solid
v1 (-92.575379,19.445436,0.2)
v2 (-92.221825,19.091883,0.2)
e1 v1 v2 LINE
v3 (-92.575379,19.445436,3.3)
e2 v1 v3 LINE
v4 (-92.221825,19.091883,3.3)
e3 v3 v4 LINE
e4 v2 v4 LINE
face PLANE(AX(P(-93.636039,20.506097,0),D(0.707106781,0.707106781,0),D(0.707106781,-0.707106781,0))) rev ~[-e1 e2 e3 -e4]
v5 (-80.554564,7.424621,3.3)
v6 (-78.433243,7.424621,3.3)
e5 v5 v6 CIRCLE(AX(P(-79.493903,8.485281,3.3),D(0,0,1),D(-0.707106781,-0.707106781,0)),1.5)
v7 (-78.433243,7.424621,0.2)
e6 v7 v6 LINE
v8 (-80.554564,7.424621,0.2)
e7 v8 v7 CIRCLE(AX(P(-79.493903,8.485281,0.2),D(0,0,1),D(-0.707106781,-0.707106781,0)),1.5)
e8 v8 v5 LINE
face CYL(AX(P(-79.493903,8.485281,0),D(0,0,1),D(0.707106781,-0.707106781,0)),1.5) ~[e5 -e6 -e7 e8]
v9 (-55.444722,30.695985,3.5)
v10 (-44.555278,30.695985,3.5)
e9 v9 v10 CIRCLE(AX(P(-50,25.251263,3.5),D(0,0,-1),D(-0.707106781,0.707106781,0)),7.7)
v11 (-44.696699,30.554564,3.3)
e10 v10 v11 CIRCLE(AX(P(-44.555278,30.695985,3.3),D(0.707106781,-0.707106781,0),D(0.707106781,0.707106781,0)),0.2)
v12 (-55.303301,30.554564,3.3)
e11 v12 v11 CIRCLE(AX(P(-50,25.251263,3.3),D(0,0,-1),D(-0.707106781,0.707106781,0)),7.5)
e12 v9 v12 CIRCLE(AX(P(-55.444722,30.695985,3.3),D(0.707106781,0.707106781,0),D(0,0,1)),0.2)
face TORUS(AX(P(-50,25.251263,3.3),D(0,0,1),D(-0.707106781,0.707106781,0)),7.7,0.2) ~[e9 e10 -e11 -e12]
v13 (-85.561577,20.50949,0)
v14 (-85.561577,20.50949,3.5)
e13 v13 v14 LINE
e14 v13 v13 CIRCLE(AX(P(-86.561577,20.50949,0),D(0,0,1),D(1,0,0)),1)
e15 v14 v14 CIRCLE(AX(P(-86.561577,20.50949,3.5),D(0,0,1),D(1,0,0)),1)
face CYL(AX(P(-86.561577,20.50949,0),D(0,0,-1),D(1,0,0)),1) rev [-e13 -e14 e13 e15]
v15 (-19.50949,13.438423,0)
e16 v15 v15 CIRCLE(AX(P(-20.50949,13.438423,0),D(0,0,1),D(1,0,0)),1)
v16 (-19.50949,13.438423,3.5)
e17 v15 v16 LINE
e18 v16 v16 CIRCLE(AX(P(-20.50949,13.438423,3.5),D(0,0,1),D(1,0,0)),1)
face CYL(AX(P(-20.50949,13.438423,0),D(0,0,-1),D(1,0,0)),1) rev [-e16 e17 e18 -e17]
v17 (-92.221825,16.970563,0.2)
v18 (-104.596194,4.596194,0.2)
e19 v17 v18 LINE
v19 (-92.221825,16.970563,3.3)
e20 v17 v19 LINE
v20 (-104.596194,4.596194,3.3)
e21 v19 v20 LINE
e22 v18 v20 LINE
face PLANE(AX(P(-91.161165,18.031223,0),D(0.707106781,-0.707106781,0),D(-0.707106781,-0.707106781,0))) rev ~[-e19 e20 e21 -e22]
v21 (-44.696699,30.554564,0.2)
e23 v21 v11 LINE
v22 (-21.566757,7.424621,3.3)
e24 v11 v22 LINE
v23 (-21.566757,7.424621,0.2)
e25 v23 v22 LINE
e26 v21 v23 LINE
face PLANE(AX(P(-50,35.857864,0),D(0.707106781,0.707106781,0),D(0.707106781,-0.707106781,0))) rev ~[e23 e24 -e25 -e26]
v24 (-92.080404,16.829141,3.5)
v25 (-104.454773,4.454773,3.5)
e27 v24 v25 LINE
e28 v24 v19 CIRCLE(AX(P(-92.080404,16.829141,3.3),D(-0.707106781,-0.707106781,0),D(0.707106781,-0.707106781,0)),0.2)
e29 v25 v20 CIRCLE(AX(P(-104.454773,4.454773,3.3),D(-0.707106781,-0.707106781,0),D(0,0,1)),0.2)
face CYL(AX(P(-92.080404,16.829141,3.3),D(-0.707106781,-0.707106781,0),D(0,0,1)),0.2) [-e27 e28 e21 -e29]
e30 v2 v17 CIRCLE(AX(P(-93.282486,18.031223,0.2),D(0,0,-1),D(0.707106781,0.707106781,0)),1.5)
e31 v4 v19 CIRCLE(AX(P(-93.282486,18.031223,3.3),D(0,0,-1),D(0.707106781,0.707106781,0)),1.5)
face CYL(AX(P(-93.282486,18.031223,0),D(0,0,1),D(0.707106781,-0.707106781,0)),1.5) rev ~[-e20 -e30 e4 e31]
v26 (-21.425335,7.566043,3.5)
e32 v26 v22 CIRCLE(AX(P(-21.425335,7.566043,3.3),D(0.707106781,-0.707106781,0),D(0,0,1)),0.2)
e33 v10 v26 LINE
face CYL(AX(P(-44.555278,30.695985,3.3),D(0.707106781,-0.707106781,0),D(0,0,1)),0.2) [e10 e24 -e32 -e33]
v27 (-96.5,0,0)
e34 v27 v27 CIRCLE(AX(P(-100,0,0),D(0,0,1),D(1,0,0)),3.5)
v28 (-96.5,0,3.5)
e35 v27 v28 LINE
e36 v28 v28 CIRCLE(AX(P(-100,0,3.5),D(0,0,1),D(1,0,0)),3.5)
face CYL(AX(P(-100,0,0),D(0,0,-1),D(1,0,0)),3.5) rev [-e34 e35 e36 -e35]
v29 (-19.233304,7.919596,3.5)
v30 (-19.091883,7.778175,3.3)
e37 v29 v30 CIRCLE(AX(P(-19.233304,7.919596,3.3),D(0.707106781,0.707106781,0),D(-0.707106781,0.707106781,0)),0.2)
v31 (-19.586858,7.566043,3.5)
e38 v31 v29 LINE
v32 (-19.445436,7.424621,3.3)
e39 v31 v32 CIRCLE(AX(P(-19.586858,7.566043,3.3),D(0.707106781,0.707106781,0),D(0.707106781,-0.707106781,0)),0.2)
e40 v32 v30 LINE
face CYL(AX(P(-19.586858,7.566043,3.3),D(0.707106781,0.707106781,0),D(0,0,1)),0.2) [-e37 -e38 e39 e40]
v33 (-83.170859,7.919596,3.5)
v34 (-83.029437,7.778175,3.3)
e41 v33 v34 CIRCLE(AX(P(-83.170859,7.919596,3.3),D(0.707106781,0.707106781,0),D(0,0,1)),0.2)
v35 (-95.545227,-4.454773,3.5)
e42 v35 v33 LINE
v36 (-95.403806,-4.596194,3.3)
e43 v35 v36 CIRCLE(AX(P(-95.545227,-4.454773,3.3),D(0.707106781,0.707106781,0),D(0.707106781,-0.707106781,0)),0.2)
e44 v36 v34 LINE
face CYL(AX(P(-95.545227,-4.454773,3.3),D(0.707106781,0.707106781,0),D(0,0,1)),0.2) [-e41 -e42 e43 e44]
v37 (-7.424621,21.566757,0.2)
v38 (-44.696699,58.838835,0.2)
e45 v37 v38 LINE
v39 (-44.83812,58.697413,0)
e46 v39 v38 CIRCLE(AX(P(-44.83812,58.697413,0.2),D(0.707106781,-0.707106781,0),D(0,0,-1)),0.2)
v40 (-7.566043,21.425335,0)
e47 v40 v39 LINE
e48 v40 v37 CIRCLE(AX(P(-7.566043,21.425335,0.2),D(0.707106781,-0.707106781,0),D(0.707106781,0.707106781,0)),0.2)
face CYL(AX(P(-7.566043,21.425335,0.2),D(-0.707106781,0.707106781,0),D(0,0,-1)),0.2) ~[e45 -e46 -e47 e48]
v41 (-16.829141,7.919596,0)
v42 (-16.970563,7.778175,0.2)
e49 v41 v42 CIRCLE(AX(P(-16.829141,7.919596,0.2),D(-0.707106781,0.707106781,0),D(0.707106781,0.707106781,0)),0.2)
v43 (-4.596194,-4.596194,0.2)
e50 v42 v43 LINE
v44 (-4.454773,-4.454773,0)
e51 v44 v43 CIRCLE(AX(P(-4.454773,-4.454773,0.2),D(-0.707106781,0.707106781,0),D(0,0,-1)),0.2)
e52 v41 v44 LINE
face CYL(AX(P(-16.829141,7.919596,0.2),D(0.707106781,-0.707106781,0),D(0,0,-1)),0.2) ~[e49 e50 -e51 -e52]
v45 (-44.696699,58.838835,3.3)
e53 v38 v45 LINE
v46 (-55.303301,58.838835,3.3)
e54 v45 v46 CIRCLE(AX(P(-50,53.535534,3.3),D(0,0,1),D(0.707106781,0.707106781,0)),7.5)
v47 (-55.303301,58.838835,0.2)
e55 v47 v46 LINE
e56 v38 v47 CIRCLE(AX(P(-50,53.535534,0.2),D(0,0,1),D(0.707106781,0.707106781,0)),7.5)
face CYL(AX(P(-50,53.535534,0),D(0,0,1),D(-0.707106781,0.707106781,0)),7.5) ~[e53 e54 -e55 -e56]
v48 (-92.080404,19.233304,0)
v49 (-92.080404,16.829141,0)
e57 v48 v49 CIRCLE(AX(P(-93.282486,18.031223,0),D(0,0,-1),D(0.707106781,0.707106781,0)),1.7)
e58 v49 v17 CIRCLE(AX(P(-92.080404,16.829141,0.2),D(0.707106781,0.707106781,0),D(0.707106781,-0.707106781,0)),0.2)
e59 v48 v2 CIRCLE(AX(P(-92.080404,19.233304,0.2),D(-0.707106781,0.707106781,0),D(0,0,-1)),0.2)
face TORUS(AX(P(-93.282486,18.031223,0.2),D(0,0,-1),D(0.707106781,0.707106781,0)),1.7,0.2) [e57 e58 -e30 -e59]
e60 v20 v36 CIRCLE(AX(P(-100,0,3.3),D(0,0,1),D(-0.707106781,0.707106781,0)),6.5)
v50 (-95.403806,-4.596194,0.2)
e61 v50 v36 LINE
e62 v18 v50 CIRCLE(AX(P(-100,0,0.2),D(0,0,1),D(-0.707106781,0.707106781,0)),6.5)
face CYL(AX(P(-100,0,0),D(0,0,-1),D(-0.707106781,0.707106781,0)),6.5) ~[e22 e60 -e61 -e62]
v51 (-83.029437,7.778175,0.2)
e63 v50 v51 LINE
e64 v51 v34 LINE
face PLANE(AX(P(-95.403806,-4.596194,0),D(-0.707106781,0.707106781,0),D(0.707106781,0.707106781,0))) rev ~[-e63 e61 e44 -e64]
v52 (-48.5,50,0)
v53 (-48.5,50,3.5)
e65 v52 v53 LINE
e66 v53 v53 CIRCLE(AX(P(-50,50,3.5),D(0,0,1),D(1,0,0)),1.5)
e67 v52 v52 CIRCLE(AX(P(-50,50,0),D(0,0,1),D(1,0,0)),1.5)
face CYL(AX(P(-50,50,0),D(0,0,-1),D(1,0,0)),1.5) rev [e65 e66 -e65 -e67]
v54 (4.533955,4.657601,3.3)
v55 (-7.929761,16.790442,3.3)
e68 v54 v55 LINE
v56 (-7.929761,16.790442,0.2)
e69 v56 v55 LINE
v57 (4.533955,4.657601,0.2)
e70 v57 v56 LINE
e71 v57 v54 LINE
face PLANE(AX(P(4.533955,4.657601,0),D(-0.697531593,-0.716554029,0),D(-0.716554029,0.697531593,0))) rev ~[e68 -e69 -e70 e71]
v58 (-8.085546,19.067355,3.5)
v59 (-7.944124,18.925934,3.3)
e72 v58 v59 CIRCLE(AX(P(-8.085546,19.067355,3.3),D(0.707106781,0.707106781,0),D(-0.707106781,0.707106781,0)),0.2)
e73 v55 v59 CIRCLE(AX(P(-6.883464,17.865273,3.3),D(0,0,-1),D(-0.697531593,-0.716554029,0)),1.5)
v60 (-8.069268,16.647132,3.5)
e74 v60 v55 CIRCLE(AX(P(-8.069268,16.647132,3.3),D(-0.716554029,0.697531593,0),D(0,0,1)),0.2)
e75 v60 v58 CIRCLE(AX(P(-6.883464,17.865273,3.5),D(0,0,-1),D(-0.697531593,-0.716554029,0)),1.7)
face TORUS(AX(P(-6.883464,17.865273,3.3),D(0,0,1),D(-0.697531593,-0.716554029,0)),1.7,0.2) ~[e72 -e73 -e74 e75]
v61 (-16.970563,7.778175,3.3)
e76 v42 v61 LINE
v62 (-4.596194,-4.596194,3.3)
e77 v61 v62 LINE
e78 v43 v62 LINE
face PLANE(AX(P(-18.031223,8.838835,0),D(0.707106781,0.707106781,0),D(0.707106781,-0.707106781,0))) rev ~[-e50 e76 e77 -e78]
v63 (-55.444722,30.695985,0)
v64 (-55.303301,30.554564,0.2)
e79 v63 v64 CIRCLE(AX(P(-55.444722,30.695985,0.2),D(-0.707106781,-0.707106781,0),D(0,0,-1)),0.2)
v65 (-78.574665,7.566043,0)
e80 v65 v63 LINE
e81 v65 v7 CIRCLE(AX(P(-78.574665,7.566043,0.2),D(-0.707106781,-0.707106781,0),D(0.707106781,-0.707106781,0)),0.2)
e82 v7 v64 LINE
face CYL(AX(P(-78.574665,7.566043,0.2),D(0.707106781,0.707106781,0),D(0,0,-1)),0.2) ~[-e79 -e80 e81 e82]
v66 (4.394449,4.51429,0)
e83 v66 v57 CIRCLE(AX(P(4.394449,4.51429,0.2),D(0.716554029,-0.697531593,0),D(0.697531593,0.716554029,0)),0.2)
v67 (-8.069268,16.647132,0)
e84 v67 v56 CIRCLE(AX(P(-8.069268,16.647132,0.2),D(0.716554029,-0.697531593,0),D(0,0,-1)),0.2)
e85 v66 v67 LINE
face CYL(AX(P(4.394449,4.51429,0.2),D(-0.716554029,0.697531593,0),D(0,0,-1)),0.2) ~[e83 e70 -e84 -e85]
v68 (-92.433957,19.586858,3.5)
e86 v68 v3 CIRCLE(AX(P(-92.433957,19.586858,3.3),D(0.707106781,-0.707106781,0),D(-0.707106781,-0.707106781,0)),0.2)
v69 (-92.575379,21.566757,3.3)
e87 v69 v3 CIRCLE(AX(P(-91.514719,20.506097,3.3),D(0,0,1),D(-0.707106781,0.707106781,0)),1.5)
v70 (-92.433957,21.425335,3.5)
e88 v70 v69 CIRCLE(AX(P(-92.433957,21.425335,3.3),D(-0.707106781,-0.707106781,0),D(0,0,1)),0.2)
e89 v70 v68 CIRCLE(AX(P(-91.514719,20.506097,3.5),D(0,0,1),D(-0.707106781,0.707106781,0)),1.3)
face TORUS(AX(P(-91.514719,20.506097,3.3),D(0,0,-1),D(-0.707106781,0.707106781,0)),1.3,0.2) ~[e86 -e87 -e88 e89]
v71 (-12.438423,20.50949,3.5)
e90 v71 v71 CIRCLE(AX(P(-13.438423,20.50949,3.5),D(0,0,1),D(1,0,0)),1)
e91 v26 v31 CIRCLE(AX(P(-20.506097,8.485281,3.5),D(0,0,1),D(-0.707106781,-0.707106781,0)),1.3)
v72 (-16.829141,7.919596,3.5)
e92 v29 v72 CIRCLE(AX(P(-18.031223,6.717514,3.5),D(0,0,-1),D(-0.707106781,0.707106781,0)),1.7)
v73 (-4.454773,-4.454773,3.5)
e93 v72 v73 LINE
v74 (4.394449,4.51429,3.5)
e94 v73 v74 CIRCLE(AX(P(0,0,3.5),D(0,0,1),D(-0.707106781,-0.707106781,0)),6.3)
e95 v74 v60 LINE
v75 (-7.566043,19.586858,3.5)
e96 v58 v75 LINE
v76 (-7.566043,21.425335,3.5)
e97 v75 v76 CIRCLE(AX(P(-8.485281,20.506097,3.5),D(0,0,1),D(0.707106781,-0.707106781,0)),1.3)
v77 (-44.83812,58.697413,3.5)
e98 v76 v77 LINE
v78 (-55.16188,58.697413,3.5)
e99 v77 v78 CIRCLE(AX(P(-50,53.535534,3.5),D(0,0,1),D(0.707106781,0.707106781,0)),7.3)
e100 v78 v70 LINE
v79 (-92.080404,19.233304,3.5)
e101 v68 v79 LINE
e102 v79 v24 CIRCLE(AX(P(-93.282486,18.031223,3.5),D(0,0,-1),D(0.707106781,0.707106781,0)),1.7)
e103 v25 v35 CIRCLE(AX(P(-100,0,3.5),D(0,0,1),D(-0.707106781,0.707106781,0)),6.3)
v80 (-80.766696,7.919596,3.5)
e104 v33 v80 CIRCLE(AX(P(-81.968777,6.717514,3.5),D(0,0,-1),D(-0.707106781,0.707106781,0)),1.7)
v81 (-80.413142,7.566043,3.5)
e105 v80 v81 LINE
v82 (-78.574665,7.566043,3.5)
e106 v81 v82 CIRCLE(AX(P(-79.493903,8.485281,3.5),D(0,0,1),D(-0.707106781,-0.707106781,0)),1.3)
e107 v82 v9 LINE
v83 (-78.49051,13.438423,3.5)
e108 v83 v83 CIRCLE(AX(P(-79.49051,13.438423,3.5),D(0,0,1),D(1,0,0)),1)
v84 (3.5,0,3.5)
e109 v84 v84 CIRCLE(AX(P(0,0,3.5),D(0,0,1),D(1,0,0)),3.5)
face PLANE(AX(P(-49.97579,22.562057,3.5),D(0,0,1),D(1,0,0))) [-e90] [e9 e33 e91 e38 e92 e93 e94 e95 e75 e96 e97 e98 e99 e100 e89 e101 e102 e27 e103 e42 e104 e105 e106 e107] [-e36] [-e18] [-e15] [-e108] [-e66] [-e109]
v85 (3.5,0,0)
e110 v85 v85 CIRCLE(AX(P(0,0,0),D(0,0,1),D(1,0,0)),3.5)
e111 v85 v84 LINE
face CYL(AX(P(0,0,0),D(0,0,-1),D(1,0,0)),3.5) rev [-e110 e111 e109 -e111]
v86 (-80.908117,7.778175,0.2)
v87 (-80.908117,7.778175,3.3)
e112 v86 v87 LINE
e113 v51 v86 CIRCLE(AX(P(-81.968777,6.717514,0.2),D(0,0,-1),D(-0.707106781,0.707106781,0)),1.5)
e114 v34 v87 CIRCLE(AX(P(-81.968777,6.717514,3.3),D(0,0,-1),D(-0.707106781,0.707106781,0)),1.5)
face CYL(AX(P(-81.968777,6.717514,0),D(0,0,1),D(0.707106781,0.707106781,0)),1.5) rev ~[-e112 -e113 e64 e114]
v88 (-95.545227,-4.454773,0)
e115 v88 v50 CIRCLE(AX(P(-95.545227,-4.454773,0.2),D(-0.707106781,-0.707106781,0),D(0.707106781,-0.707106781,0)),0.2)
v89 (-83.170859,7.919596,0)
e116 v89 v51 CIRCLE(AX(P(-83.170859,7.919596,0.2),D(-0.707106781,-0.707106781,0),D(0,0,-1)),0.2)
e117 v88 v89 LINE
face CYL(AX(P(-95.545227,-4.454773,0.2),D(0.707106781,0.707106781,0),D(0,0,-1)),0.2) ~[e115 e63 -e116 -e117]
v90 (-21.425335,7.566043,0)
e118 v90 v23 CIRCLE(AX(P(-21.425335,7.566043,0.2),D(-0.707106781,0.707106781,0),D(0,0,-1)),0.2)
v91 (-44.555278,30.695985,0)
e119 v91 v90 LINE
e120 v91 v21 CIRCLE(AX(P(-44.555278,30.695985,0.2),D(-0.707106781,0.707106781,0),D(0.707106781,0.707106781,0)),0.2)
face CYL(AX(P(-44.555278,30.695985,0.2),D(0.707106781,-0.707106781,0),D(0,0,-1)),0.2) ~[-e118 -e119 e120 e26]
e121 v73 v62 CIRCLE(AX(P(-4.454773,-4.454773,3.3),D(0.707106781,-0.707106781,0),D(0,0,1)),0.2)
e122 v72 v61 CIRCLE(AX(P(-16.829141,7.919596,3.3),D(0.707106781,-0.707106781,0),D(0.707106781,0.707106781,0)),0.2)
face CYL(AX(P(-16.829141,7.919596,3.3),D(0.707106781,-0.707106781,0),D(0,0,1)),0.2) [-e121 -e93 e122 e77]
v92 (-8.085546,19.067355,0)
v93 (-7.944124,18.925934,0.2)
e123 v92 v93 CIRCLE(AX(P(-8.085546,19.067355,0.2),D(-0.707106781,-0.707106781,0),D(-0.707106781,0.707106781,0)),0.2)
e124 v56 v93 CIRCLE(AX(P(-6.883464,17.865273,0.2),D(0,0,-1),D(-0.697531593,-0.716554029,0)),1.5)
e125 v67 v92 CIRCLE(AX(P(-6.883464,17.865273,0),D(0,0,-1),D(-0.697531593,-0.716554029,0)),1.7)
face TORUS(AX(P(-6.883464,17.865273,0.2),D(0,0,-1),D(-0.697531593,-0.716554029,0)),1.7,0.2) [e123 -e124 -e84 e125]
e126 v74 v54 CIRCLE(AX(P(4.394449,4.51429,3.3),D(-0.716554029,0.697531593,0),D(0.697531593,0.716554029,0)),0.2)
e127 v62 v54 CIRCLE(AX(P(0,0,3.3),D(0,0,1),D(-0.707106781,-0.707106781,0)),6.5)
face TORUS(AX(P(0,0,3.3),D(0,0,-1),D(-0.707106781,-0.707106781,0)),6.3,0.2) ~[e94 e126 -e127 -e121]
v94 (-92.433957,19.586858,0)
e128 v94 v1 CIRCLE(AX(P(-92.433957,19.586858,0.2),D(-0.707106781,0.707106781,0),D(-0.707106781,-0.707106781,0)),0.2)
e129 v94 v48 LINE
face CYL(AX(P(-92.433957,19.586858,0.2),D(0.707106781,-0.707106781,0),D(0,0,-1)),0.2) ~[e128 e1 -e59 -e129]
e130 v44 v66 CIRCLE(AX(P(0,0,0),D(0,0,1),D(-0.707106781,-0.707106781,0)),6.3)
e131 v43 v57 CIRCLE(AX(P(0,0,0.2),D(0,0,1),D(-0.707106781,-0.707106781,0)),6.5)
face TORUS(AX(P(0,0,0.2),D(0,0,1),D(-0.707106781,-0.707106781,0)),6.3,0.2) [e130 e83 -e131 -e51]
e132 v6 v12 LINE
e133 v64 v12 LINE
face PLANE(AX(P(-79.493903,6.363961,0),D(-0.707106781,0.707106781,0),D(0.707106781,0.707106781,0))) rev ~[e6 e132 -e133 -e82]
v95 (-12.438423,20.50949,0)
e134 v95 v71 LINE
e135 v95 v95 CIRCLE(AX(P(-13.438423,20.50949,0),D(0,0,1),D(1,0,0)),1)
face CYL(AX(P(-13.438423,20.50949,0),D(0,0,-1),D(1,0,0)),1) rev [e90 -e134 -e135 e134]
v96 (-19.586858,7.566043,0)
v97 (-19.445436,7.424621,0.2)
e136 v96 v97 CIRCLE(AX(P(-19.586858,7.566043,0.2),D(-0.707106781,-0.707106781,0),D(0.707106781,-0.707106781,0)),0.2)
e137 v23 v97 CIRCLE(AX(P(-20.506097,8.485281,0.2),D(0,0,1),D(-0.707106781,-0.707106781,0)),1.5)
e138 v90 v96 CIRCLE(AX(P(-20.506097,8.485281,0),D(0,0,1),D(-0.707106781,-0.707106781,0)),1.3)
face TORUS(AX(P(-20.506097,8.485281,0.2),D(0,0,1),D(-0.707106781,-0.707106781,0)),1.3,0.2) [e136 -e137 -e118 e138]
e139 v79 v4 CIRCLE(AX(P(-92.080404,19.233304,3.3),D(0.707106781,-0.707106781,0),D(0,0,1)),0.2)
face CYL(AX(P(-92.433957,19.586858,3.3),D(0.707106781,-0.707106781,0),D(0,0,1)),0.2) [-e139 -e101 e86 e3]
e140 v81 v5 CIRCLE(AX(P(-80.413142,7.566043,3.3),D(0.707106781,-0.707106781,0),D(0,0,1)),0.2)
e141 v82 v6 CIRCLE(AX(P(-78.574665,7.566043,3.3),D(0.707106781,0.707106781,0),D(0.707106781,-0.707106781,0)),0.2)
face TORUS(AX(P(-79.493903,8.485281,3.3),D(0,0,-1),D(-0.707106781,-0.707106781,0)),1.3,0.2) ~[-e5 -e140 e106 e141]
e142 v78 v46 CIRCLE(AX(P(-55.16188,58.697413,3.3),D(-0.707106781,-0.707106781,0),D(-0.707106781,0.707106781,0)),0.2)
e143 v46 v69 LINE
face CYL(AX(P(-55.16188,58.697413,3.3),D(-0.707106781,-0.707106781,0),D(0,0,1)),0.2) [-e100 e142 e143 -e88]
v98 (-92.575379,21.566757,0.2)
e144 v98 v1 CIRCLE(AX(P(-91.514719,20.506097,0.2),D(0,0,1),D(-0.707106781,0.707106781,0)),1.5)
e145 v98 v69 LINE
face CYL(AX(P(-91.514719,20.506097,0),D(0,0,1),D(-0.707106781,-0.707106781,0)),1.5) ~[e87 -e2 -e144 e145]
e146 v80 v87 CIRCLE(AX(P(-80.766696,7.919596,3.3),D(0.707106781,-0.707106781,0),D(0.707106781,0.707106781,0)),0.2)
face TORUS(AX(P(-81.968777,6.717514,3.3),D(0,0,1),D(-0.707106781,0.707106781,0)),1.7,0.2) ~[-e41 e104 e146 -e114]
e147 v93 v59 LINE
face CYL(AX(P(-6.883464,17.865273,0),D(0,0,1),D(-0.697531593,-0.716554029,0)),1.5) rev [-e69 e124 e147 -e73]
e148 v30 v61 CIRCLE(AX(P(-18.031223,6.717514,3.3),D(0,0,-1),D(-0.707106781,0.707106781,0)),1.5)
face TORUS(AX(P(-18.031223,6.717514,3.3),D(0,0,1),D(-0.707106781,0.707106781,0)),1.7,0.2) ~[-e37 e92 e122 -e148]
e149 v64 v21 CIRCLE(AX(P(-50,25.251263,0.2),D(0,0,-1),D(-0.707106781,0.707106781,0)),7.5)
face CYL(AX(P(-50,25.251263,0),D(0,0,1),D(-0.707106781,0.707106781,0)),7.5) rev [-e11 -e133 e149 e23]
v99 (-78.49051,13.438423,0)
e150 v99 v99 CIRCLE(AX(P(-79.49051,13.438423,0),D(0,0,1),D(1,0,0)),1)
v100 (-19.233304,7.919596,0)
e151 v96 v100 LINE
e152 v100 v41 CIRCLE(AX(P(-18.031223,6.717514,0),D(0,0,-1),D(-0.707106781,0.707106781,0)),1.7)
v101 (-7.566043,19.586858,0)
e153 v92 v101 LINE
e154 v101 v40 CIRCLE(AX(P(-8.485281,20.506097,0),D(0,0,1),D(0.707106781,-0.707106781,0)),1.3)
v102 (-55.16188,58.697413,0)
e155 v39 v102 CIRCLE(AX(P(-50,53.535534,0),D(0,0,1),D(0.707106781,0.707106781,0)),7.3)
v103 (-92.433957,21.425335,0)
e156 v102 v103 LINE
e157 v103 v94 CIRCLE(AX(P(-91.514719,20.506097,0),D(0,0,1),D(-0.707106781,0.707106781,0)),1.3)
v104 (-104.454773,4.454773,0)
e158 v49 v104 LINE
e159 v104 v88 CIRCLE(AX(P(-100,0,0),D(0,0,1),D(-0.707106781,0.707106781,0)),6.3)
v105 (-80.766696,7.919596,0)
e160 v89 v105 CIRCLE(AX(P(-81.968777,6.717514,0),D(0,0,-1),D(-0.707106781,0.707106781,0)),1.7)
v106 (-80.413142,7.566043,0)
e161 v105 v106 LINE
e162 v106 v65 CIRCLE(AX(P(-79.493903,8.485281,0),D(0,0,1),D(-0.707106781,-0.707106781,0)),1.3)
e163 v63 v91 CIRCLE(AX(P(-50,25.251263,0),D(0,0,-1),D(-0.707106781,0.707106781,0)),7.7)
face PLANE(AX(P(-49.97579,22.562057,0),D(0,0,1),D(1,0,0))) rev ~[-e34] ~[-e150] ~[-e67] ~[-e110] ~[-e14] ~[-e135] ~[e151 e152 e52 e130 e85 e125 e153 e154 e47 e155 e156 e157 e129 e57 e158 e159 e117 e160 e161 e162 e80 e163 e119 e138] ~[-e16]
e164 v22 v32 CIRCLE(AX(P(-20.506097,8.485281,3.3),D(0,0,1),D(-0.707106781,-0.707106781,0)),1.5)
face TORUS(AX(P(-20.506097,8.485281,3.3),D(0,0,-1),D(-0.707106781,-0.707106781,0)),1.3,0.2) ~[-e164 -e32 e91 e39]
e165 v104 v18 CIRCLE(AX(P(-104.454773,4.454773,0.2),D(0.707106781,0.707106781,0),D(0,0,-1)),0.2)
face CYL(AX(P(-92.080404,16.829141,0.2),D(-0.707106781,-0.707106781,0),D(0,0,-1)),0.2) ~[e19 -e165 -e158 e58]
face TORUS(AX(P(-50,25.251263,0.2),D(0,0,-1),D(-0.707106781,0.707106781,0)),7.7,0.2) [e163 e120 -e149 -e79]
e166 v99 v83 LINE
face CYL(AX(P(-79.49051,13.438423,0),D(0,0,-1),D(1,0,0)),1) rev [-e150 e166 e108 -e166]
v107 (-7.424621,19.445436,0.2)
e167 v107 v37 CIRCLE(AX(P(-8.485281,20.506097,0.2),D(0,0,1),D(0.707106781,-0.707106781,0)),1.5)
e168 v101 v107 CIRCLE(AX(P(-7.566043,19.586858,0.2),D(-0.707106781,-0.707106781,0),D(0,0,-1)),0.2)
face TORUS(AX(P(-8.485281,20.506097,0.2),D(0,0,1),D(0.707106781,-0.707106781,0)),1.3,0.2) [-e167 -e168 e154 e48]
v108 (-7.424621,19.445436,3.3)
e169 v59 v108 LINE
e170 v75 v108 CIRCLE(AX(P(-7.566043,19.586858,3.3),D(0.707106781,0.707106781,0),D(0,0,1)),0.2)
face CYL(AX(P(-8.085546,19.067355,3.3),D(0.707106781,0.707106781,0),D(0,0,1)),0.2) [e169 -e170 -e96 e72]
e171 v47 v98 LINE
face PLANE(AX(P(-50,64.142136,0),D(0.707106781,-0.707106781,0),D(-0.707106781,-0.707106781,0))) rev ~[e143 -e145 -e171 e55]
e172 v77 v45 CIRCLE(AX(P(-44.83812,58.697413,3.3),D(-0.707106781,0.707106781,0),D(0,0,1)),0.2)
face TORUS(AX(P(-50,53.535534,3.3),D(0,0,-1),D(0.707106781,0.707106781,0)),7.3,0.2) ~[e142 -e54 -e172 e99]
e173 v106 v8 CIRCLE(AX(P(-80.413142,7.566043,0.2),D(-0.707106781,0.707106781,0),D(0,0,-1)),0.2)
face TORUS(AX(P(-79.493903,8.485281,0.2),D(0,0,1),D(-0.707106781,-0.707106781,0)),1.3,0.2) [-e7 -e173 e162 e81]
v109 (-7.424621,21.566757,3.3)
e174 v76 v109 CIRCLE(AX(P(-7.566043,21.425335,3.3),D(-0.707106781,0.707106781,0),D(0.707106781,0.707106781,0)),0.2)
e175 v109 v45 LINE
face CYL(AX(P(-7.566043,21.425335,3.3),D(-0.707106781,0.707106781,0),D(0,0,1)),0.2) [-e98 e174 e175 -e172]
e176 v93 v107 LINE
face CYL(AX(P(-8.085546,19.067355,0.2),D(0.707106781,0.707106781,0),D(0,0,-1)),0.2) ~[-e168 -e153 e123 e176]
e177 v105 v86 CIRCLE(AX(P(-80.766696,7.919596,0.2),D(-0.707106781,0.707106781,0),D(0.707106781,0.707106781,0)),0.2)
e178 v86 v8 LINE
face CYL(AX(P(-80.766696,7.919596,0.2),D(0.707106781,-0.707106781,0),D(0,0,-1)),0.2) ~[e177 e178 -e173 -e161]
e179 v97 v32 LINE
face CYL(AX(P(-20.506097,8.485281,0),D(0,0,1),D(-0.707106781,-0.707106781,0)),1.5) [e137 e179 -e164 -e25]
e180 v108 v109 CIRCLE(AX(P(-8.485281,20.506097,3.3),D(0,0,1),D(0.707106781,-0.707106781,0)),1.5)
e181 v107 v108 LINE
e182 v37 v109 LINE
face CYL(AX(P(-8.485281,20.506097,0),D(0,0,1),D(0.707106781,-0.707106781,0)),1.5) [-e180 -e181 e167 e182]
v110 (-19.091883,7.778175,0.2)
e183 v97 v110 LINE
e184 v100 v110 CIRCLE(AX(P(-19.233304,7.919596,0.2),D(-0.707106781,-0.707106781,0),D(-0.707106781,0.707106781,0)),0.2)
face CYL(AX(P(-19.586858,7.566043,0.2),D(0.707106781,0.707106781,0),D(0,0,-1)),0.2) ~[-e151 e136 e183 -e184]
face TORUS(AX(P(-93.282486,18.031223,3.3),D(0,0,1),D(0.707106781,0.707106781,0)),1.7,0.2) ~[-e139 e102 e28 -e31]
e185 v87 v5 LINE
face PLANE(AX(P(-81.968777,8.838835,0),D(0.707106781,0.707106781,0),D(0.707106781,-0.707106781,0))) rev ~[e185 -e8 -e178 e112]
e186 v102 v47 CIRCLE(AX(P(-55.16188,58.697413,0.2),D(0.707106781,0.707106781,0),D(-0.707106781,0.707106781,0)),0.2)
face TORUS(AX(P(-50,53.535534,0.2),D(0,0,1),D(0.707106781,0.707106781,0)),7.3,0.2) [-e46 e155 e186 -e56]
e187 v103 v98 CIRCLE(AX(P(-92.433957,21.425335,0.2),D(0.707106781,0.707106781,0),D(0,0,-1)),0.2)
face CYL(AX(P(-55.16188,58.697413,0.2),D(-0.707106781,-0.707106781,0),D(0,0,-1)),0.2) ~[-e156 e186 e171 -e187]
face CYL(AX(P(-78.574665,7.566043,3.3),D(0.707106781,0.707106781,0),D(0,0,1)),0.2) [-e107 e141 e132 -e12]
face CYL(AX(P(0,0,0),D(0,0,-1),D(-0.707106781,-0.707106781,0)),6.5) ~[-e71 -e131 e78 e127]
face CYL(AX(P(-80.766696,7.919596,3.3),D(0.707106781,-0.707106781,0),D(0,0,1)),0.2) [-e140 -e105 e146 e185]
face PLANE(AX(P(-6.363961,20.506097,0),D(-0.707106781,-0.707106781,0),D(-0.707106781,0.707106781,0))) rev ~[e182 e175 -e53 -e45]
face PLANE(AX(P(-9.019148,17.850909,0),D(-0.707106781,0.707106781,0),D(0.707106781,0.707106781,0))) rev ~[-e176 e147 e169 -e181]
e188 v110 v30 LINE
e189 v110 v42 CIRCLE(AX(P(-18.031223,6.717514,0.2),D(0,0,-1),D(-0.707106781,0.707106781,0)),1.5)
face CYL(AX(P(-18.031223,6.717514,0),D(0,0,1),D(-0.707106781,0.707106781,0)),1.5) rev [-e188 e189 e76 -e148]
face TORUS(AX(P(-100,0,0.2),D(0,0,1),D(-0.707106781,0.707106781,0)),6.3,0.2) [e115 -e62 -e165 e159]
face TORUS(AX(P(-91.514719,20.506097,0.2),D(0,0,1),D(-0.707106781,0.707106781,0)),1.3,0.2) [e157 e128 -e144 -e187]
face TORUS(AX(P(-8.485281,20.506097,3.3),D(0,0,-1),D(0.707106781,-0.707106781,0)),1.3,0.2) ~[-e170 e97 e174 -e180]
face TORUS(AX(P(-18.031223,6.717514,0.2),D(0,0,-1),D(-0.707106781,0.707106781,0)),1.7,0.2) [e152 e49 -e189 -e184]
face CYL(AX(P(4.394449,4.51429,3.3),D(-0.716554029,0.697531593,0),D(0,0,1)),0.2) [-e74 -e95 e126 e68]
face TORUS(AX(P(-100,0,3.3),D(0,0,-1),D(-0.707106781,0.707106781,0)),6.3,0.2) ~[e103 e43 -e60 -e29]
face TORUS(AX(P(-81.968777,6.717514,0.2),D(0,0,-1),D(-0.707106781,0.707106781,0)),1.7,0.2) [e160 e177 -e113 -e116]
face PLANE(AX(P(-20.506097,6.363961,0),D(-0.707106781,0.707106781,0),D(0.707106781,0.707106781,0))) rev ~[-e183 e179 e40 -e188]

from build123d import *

# Parameters (mm, degrees)
SKETCH3_R           = 3.5
SKETCH3_R_2         = 1
SKETCH3_R_3         = 1.5
BOSS_EXTRUDE1_DEPTH = 3.5
FILLET1_R           = 7.5
FILLET2_R           = 1.5
FILLET3_R           = 0.2


with BuildPart() as part:
    # Sketch3 → Boss-Extrude1 (new body)
    with BuildSketch(Plane.XY):
        with BuildLine():
            Line((-79.493903346, 6.363961031), (-50, 35.857864376))
            Line((-50, 35.857864376), (-20.506096654, 6.363961031))
            Line((-20.506096654, 6.363961031), (-18.03122292, 8.838834765))
            Line((-18.03122292, 8.838834765), (-4.596194078, -4.596194078))
            ThreePointArc((-4.596194078, -4.596194078), (4.627002282, -4.565177968), (4.533955357, 4.657601188))
            Line((4.533955357, 4.657601188), (-9.019148409, 17.850909276))
            Line((-9.019148409, 17.850909276), (-6.363961031, 20.506096654))
            Line((-6.363961031, 20.506096654), (-50, 64.142135624))
            Line((-50, 64.142135624), (-93.636038969, 20.506096654))
            Line((-93.636038969, 20.506096654), (-91.161165235, 18.03122292))
            Line((-91.161165235, 18.03122292), (-104.596194078, 4.596194078))
            ThreePointArc((-104.596194078, 4.596194078), (-104.596194078, -4.596194078), (-95.403805922, -4.596194078))
            Line((-95.403805922, -4.596194078), (-81.96877708, 8.838834765))
            Line((-81.96877708, 8.838834765), (-79.493903346, 6.363961031))
        make_face()
        with Locations((-100, 0)):
            Circle(SKETCH3_R, mode=Mode.SUBTRACT)
        Circle(SKETCH3_R, mode=Mode.SUBTRACT)
        with Locations((-86.561577384, 20.509490428)):
            Circle(SKETCH3_R_2, mode=Mode.SUBTRACT)
        with Locations((-79.490509572, 13.438422616)):
            Circle(SKETCH3_R_2, mode=Mode.SUBTRACT)
        with Locations((-20.509490428, 13.438422616)):
            Circle(SKETCH3_R_2, mode=Mode.SUBTRACT)
        with Locations((-13.438422616, 20.509490428)):
            Circle(SKETCH3_R_2, mode=Mode.SUBTRACT)
        with Locations((-50, 50)):
            Circle(SKETCH3_R_3, mode=Mode.SUBTRACT)
    extrude(amount=BOSS_EXTRUDE1_DEPTH)

    # Fillet1
    fillet1_edges = [part.edges().sort_by_distance(p)[0] for p in [
        (-50, 64.142135624, 1.75),
        (-50, 35.857864376, 1.75),
    ]]
    fillet(fillet1_edges, radius=FILLET1_R)

    # Fillet2
    fillet2_edges = [part.edges().sort_by_distance(p)[0] for p in [
        (-91.161165235, 18.03122292, 1.75),
        (-93.636038969, 20.506096654, 1.75),
        (-6.363961031, 20.506096654, 1.75),
        (-9.019148409, 17.850909276, 1.75),
        (-18.03122292, 8.838834765, 1.75),
        (-20.506096654, 6.363961031, 1.75),
        (-79.493903346, 6.363961031, 1.75),
        (-81.96877708, 8.838834765, 1.75),
    ]]
    fillet(fillet2_edges, radius=FILLET2_R)

    # Fillet3
    fillet3_edges = [part.edges().sort_by_distance(p)[0] for p in [
        (-18.03122292, 8.217514421, 0),
        (-18.03122292, 8.217514421, 3.5),
        (-8.383430059, 17.855184959, 0),
        (-8.383430059, 17.855184959, 3.5),
        (-81.96877708, 8.217514421, 0),
        (-81.96877708, 8.217514421, 3.5),
        (-91.782485579, 18.03122292, 0),
        (-91.782485579, 18.03122292, 3.5),
        (4.627002282, -4.565177968, 0),
        (-104.596194078, -4.596194078, 0),
        (-104.596194078, -4.596194078, 3.5),
        (-33.131727984, 18.98959236, 0),
        (-33.131727984, 18.98959236, 3.5),
        (-26.060660172, 40.202795796, 0),
        (-50, 61.035533906, 0),
        (-26.060660172, 40.202795796, 3.5),
        (-50, 61.035533906, 3.5),
        (-50, 32.751262658, 0),
        (-50, 32.751262658, 3.5),
        (-10.783378413, 1.590990258, 0),
        (-10.783378413, 1.590990258, 3.5),
        (-19.268659787, 7.601397898, 0),
        (-19.268659787, 7.601397898, 3.5),
        (-73.939339828, 40.202795796, 0),
        (-7.684372679, 19.185685006, 0),
        (-1.697903009, 10.724021751, 0),
        (-66.868272016, 18.98959236, 0),
        (-80.731340213, 7.601397898, 0),
        (-89.216621587, 1.590990258, 0),
        (-98.409009742, 10.783378413, 0),
        (-92.398602102, 19.268659787, 0),
        (-93.014718626, 20.506096654, 0),
        (-79.493903346, 6.985281374, 0),
        (4.627002282, -4.565177968, 3.5),
        (-6.985281374, 20.506096654, 0),
        (-20.506096654, 6.985281374, 0),
        (-73.939339828, 40.202795796, 3.5),
        (-92.398602102, 19.268659787, 3.5),
        (-98.409009742, 10.783378413, 3.5),
        (-89.216621587, 1.590990258, 3.5),
        (-80.731340213, 7.601397898, 3.5),
        (-66.868272016, 18.98959236, 3.5),
        (-1.697903009, 10.724021751, 3.5),
        (-7.684372679, 19.185685006, 3.5),
        (-93.014718626, 20.506096654, 3.5),
        (-79.493903346, 6.985281374, 3.5),
        (-6.985281374, 20.506096654, 3.5),
        (-20.506096654, 6.985281374, 3.5),
    ]]
    fillet(fillet3_edges, radius=FILLET3_R)


solid = part.part
